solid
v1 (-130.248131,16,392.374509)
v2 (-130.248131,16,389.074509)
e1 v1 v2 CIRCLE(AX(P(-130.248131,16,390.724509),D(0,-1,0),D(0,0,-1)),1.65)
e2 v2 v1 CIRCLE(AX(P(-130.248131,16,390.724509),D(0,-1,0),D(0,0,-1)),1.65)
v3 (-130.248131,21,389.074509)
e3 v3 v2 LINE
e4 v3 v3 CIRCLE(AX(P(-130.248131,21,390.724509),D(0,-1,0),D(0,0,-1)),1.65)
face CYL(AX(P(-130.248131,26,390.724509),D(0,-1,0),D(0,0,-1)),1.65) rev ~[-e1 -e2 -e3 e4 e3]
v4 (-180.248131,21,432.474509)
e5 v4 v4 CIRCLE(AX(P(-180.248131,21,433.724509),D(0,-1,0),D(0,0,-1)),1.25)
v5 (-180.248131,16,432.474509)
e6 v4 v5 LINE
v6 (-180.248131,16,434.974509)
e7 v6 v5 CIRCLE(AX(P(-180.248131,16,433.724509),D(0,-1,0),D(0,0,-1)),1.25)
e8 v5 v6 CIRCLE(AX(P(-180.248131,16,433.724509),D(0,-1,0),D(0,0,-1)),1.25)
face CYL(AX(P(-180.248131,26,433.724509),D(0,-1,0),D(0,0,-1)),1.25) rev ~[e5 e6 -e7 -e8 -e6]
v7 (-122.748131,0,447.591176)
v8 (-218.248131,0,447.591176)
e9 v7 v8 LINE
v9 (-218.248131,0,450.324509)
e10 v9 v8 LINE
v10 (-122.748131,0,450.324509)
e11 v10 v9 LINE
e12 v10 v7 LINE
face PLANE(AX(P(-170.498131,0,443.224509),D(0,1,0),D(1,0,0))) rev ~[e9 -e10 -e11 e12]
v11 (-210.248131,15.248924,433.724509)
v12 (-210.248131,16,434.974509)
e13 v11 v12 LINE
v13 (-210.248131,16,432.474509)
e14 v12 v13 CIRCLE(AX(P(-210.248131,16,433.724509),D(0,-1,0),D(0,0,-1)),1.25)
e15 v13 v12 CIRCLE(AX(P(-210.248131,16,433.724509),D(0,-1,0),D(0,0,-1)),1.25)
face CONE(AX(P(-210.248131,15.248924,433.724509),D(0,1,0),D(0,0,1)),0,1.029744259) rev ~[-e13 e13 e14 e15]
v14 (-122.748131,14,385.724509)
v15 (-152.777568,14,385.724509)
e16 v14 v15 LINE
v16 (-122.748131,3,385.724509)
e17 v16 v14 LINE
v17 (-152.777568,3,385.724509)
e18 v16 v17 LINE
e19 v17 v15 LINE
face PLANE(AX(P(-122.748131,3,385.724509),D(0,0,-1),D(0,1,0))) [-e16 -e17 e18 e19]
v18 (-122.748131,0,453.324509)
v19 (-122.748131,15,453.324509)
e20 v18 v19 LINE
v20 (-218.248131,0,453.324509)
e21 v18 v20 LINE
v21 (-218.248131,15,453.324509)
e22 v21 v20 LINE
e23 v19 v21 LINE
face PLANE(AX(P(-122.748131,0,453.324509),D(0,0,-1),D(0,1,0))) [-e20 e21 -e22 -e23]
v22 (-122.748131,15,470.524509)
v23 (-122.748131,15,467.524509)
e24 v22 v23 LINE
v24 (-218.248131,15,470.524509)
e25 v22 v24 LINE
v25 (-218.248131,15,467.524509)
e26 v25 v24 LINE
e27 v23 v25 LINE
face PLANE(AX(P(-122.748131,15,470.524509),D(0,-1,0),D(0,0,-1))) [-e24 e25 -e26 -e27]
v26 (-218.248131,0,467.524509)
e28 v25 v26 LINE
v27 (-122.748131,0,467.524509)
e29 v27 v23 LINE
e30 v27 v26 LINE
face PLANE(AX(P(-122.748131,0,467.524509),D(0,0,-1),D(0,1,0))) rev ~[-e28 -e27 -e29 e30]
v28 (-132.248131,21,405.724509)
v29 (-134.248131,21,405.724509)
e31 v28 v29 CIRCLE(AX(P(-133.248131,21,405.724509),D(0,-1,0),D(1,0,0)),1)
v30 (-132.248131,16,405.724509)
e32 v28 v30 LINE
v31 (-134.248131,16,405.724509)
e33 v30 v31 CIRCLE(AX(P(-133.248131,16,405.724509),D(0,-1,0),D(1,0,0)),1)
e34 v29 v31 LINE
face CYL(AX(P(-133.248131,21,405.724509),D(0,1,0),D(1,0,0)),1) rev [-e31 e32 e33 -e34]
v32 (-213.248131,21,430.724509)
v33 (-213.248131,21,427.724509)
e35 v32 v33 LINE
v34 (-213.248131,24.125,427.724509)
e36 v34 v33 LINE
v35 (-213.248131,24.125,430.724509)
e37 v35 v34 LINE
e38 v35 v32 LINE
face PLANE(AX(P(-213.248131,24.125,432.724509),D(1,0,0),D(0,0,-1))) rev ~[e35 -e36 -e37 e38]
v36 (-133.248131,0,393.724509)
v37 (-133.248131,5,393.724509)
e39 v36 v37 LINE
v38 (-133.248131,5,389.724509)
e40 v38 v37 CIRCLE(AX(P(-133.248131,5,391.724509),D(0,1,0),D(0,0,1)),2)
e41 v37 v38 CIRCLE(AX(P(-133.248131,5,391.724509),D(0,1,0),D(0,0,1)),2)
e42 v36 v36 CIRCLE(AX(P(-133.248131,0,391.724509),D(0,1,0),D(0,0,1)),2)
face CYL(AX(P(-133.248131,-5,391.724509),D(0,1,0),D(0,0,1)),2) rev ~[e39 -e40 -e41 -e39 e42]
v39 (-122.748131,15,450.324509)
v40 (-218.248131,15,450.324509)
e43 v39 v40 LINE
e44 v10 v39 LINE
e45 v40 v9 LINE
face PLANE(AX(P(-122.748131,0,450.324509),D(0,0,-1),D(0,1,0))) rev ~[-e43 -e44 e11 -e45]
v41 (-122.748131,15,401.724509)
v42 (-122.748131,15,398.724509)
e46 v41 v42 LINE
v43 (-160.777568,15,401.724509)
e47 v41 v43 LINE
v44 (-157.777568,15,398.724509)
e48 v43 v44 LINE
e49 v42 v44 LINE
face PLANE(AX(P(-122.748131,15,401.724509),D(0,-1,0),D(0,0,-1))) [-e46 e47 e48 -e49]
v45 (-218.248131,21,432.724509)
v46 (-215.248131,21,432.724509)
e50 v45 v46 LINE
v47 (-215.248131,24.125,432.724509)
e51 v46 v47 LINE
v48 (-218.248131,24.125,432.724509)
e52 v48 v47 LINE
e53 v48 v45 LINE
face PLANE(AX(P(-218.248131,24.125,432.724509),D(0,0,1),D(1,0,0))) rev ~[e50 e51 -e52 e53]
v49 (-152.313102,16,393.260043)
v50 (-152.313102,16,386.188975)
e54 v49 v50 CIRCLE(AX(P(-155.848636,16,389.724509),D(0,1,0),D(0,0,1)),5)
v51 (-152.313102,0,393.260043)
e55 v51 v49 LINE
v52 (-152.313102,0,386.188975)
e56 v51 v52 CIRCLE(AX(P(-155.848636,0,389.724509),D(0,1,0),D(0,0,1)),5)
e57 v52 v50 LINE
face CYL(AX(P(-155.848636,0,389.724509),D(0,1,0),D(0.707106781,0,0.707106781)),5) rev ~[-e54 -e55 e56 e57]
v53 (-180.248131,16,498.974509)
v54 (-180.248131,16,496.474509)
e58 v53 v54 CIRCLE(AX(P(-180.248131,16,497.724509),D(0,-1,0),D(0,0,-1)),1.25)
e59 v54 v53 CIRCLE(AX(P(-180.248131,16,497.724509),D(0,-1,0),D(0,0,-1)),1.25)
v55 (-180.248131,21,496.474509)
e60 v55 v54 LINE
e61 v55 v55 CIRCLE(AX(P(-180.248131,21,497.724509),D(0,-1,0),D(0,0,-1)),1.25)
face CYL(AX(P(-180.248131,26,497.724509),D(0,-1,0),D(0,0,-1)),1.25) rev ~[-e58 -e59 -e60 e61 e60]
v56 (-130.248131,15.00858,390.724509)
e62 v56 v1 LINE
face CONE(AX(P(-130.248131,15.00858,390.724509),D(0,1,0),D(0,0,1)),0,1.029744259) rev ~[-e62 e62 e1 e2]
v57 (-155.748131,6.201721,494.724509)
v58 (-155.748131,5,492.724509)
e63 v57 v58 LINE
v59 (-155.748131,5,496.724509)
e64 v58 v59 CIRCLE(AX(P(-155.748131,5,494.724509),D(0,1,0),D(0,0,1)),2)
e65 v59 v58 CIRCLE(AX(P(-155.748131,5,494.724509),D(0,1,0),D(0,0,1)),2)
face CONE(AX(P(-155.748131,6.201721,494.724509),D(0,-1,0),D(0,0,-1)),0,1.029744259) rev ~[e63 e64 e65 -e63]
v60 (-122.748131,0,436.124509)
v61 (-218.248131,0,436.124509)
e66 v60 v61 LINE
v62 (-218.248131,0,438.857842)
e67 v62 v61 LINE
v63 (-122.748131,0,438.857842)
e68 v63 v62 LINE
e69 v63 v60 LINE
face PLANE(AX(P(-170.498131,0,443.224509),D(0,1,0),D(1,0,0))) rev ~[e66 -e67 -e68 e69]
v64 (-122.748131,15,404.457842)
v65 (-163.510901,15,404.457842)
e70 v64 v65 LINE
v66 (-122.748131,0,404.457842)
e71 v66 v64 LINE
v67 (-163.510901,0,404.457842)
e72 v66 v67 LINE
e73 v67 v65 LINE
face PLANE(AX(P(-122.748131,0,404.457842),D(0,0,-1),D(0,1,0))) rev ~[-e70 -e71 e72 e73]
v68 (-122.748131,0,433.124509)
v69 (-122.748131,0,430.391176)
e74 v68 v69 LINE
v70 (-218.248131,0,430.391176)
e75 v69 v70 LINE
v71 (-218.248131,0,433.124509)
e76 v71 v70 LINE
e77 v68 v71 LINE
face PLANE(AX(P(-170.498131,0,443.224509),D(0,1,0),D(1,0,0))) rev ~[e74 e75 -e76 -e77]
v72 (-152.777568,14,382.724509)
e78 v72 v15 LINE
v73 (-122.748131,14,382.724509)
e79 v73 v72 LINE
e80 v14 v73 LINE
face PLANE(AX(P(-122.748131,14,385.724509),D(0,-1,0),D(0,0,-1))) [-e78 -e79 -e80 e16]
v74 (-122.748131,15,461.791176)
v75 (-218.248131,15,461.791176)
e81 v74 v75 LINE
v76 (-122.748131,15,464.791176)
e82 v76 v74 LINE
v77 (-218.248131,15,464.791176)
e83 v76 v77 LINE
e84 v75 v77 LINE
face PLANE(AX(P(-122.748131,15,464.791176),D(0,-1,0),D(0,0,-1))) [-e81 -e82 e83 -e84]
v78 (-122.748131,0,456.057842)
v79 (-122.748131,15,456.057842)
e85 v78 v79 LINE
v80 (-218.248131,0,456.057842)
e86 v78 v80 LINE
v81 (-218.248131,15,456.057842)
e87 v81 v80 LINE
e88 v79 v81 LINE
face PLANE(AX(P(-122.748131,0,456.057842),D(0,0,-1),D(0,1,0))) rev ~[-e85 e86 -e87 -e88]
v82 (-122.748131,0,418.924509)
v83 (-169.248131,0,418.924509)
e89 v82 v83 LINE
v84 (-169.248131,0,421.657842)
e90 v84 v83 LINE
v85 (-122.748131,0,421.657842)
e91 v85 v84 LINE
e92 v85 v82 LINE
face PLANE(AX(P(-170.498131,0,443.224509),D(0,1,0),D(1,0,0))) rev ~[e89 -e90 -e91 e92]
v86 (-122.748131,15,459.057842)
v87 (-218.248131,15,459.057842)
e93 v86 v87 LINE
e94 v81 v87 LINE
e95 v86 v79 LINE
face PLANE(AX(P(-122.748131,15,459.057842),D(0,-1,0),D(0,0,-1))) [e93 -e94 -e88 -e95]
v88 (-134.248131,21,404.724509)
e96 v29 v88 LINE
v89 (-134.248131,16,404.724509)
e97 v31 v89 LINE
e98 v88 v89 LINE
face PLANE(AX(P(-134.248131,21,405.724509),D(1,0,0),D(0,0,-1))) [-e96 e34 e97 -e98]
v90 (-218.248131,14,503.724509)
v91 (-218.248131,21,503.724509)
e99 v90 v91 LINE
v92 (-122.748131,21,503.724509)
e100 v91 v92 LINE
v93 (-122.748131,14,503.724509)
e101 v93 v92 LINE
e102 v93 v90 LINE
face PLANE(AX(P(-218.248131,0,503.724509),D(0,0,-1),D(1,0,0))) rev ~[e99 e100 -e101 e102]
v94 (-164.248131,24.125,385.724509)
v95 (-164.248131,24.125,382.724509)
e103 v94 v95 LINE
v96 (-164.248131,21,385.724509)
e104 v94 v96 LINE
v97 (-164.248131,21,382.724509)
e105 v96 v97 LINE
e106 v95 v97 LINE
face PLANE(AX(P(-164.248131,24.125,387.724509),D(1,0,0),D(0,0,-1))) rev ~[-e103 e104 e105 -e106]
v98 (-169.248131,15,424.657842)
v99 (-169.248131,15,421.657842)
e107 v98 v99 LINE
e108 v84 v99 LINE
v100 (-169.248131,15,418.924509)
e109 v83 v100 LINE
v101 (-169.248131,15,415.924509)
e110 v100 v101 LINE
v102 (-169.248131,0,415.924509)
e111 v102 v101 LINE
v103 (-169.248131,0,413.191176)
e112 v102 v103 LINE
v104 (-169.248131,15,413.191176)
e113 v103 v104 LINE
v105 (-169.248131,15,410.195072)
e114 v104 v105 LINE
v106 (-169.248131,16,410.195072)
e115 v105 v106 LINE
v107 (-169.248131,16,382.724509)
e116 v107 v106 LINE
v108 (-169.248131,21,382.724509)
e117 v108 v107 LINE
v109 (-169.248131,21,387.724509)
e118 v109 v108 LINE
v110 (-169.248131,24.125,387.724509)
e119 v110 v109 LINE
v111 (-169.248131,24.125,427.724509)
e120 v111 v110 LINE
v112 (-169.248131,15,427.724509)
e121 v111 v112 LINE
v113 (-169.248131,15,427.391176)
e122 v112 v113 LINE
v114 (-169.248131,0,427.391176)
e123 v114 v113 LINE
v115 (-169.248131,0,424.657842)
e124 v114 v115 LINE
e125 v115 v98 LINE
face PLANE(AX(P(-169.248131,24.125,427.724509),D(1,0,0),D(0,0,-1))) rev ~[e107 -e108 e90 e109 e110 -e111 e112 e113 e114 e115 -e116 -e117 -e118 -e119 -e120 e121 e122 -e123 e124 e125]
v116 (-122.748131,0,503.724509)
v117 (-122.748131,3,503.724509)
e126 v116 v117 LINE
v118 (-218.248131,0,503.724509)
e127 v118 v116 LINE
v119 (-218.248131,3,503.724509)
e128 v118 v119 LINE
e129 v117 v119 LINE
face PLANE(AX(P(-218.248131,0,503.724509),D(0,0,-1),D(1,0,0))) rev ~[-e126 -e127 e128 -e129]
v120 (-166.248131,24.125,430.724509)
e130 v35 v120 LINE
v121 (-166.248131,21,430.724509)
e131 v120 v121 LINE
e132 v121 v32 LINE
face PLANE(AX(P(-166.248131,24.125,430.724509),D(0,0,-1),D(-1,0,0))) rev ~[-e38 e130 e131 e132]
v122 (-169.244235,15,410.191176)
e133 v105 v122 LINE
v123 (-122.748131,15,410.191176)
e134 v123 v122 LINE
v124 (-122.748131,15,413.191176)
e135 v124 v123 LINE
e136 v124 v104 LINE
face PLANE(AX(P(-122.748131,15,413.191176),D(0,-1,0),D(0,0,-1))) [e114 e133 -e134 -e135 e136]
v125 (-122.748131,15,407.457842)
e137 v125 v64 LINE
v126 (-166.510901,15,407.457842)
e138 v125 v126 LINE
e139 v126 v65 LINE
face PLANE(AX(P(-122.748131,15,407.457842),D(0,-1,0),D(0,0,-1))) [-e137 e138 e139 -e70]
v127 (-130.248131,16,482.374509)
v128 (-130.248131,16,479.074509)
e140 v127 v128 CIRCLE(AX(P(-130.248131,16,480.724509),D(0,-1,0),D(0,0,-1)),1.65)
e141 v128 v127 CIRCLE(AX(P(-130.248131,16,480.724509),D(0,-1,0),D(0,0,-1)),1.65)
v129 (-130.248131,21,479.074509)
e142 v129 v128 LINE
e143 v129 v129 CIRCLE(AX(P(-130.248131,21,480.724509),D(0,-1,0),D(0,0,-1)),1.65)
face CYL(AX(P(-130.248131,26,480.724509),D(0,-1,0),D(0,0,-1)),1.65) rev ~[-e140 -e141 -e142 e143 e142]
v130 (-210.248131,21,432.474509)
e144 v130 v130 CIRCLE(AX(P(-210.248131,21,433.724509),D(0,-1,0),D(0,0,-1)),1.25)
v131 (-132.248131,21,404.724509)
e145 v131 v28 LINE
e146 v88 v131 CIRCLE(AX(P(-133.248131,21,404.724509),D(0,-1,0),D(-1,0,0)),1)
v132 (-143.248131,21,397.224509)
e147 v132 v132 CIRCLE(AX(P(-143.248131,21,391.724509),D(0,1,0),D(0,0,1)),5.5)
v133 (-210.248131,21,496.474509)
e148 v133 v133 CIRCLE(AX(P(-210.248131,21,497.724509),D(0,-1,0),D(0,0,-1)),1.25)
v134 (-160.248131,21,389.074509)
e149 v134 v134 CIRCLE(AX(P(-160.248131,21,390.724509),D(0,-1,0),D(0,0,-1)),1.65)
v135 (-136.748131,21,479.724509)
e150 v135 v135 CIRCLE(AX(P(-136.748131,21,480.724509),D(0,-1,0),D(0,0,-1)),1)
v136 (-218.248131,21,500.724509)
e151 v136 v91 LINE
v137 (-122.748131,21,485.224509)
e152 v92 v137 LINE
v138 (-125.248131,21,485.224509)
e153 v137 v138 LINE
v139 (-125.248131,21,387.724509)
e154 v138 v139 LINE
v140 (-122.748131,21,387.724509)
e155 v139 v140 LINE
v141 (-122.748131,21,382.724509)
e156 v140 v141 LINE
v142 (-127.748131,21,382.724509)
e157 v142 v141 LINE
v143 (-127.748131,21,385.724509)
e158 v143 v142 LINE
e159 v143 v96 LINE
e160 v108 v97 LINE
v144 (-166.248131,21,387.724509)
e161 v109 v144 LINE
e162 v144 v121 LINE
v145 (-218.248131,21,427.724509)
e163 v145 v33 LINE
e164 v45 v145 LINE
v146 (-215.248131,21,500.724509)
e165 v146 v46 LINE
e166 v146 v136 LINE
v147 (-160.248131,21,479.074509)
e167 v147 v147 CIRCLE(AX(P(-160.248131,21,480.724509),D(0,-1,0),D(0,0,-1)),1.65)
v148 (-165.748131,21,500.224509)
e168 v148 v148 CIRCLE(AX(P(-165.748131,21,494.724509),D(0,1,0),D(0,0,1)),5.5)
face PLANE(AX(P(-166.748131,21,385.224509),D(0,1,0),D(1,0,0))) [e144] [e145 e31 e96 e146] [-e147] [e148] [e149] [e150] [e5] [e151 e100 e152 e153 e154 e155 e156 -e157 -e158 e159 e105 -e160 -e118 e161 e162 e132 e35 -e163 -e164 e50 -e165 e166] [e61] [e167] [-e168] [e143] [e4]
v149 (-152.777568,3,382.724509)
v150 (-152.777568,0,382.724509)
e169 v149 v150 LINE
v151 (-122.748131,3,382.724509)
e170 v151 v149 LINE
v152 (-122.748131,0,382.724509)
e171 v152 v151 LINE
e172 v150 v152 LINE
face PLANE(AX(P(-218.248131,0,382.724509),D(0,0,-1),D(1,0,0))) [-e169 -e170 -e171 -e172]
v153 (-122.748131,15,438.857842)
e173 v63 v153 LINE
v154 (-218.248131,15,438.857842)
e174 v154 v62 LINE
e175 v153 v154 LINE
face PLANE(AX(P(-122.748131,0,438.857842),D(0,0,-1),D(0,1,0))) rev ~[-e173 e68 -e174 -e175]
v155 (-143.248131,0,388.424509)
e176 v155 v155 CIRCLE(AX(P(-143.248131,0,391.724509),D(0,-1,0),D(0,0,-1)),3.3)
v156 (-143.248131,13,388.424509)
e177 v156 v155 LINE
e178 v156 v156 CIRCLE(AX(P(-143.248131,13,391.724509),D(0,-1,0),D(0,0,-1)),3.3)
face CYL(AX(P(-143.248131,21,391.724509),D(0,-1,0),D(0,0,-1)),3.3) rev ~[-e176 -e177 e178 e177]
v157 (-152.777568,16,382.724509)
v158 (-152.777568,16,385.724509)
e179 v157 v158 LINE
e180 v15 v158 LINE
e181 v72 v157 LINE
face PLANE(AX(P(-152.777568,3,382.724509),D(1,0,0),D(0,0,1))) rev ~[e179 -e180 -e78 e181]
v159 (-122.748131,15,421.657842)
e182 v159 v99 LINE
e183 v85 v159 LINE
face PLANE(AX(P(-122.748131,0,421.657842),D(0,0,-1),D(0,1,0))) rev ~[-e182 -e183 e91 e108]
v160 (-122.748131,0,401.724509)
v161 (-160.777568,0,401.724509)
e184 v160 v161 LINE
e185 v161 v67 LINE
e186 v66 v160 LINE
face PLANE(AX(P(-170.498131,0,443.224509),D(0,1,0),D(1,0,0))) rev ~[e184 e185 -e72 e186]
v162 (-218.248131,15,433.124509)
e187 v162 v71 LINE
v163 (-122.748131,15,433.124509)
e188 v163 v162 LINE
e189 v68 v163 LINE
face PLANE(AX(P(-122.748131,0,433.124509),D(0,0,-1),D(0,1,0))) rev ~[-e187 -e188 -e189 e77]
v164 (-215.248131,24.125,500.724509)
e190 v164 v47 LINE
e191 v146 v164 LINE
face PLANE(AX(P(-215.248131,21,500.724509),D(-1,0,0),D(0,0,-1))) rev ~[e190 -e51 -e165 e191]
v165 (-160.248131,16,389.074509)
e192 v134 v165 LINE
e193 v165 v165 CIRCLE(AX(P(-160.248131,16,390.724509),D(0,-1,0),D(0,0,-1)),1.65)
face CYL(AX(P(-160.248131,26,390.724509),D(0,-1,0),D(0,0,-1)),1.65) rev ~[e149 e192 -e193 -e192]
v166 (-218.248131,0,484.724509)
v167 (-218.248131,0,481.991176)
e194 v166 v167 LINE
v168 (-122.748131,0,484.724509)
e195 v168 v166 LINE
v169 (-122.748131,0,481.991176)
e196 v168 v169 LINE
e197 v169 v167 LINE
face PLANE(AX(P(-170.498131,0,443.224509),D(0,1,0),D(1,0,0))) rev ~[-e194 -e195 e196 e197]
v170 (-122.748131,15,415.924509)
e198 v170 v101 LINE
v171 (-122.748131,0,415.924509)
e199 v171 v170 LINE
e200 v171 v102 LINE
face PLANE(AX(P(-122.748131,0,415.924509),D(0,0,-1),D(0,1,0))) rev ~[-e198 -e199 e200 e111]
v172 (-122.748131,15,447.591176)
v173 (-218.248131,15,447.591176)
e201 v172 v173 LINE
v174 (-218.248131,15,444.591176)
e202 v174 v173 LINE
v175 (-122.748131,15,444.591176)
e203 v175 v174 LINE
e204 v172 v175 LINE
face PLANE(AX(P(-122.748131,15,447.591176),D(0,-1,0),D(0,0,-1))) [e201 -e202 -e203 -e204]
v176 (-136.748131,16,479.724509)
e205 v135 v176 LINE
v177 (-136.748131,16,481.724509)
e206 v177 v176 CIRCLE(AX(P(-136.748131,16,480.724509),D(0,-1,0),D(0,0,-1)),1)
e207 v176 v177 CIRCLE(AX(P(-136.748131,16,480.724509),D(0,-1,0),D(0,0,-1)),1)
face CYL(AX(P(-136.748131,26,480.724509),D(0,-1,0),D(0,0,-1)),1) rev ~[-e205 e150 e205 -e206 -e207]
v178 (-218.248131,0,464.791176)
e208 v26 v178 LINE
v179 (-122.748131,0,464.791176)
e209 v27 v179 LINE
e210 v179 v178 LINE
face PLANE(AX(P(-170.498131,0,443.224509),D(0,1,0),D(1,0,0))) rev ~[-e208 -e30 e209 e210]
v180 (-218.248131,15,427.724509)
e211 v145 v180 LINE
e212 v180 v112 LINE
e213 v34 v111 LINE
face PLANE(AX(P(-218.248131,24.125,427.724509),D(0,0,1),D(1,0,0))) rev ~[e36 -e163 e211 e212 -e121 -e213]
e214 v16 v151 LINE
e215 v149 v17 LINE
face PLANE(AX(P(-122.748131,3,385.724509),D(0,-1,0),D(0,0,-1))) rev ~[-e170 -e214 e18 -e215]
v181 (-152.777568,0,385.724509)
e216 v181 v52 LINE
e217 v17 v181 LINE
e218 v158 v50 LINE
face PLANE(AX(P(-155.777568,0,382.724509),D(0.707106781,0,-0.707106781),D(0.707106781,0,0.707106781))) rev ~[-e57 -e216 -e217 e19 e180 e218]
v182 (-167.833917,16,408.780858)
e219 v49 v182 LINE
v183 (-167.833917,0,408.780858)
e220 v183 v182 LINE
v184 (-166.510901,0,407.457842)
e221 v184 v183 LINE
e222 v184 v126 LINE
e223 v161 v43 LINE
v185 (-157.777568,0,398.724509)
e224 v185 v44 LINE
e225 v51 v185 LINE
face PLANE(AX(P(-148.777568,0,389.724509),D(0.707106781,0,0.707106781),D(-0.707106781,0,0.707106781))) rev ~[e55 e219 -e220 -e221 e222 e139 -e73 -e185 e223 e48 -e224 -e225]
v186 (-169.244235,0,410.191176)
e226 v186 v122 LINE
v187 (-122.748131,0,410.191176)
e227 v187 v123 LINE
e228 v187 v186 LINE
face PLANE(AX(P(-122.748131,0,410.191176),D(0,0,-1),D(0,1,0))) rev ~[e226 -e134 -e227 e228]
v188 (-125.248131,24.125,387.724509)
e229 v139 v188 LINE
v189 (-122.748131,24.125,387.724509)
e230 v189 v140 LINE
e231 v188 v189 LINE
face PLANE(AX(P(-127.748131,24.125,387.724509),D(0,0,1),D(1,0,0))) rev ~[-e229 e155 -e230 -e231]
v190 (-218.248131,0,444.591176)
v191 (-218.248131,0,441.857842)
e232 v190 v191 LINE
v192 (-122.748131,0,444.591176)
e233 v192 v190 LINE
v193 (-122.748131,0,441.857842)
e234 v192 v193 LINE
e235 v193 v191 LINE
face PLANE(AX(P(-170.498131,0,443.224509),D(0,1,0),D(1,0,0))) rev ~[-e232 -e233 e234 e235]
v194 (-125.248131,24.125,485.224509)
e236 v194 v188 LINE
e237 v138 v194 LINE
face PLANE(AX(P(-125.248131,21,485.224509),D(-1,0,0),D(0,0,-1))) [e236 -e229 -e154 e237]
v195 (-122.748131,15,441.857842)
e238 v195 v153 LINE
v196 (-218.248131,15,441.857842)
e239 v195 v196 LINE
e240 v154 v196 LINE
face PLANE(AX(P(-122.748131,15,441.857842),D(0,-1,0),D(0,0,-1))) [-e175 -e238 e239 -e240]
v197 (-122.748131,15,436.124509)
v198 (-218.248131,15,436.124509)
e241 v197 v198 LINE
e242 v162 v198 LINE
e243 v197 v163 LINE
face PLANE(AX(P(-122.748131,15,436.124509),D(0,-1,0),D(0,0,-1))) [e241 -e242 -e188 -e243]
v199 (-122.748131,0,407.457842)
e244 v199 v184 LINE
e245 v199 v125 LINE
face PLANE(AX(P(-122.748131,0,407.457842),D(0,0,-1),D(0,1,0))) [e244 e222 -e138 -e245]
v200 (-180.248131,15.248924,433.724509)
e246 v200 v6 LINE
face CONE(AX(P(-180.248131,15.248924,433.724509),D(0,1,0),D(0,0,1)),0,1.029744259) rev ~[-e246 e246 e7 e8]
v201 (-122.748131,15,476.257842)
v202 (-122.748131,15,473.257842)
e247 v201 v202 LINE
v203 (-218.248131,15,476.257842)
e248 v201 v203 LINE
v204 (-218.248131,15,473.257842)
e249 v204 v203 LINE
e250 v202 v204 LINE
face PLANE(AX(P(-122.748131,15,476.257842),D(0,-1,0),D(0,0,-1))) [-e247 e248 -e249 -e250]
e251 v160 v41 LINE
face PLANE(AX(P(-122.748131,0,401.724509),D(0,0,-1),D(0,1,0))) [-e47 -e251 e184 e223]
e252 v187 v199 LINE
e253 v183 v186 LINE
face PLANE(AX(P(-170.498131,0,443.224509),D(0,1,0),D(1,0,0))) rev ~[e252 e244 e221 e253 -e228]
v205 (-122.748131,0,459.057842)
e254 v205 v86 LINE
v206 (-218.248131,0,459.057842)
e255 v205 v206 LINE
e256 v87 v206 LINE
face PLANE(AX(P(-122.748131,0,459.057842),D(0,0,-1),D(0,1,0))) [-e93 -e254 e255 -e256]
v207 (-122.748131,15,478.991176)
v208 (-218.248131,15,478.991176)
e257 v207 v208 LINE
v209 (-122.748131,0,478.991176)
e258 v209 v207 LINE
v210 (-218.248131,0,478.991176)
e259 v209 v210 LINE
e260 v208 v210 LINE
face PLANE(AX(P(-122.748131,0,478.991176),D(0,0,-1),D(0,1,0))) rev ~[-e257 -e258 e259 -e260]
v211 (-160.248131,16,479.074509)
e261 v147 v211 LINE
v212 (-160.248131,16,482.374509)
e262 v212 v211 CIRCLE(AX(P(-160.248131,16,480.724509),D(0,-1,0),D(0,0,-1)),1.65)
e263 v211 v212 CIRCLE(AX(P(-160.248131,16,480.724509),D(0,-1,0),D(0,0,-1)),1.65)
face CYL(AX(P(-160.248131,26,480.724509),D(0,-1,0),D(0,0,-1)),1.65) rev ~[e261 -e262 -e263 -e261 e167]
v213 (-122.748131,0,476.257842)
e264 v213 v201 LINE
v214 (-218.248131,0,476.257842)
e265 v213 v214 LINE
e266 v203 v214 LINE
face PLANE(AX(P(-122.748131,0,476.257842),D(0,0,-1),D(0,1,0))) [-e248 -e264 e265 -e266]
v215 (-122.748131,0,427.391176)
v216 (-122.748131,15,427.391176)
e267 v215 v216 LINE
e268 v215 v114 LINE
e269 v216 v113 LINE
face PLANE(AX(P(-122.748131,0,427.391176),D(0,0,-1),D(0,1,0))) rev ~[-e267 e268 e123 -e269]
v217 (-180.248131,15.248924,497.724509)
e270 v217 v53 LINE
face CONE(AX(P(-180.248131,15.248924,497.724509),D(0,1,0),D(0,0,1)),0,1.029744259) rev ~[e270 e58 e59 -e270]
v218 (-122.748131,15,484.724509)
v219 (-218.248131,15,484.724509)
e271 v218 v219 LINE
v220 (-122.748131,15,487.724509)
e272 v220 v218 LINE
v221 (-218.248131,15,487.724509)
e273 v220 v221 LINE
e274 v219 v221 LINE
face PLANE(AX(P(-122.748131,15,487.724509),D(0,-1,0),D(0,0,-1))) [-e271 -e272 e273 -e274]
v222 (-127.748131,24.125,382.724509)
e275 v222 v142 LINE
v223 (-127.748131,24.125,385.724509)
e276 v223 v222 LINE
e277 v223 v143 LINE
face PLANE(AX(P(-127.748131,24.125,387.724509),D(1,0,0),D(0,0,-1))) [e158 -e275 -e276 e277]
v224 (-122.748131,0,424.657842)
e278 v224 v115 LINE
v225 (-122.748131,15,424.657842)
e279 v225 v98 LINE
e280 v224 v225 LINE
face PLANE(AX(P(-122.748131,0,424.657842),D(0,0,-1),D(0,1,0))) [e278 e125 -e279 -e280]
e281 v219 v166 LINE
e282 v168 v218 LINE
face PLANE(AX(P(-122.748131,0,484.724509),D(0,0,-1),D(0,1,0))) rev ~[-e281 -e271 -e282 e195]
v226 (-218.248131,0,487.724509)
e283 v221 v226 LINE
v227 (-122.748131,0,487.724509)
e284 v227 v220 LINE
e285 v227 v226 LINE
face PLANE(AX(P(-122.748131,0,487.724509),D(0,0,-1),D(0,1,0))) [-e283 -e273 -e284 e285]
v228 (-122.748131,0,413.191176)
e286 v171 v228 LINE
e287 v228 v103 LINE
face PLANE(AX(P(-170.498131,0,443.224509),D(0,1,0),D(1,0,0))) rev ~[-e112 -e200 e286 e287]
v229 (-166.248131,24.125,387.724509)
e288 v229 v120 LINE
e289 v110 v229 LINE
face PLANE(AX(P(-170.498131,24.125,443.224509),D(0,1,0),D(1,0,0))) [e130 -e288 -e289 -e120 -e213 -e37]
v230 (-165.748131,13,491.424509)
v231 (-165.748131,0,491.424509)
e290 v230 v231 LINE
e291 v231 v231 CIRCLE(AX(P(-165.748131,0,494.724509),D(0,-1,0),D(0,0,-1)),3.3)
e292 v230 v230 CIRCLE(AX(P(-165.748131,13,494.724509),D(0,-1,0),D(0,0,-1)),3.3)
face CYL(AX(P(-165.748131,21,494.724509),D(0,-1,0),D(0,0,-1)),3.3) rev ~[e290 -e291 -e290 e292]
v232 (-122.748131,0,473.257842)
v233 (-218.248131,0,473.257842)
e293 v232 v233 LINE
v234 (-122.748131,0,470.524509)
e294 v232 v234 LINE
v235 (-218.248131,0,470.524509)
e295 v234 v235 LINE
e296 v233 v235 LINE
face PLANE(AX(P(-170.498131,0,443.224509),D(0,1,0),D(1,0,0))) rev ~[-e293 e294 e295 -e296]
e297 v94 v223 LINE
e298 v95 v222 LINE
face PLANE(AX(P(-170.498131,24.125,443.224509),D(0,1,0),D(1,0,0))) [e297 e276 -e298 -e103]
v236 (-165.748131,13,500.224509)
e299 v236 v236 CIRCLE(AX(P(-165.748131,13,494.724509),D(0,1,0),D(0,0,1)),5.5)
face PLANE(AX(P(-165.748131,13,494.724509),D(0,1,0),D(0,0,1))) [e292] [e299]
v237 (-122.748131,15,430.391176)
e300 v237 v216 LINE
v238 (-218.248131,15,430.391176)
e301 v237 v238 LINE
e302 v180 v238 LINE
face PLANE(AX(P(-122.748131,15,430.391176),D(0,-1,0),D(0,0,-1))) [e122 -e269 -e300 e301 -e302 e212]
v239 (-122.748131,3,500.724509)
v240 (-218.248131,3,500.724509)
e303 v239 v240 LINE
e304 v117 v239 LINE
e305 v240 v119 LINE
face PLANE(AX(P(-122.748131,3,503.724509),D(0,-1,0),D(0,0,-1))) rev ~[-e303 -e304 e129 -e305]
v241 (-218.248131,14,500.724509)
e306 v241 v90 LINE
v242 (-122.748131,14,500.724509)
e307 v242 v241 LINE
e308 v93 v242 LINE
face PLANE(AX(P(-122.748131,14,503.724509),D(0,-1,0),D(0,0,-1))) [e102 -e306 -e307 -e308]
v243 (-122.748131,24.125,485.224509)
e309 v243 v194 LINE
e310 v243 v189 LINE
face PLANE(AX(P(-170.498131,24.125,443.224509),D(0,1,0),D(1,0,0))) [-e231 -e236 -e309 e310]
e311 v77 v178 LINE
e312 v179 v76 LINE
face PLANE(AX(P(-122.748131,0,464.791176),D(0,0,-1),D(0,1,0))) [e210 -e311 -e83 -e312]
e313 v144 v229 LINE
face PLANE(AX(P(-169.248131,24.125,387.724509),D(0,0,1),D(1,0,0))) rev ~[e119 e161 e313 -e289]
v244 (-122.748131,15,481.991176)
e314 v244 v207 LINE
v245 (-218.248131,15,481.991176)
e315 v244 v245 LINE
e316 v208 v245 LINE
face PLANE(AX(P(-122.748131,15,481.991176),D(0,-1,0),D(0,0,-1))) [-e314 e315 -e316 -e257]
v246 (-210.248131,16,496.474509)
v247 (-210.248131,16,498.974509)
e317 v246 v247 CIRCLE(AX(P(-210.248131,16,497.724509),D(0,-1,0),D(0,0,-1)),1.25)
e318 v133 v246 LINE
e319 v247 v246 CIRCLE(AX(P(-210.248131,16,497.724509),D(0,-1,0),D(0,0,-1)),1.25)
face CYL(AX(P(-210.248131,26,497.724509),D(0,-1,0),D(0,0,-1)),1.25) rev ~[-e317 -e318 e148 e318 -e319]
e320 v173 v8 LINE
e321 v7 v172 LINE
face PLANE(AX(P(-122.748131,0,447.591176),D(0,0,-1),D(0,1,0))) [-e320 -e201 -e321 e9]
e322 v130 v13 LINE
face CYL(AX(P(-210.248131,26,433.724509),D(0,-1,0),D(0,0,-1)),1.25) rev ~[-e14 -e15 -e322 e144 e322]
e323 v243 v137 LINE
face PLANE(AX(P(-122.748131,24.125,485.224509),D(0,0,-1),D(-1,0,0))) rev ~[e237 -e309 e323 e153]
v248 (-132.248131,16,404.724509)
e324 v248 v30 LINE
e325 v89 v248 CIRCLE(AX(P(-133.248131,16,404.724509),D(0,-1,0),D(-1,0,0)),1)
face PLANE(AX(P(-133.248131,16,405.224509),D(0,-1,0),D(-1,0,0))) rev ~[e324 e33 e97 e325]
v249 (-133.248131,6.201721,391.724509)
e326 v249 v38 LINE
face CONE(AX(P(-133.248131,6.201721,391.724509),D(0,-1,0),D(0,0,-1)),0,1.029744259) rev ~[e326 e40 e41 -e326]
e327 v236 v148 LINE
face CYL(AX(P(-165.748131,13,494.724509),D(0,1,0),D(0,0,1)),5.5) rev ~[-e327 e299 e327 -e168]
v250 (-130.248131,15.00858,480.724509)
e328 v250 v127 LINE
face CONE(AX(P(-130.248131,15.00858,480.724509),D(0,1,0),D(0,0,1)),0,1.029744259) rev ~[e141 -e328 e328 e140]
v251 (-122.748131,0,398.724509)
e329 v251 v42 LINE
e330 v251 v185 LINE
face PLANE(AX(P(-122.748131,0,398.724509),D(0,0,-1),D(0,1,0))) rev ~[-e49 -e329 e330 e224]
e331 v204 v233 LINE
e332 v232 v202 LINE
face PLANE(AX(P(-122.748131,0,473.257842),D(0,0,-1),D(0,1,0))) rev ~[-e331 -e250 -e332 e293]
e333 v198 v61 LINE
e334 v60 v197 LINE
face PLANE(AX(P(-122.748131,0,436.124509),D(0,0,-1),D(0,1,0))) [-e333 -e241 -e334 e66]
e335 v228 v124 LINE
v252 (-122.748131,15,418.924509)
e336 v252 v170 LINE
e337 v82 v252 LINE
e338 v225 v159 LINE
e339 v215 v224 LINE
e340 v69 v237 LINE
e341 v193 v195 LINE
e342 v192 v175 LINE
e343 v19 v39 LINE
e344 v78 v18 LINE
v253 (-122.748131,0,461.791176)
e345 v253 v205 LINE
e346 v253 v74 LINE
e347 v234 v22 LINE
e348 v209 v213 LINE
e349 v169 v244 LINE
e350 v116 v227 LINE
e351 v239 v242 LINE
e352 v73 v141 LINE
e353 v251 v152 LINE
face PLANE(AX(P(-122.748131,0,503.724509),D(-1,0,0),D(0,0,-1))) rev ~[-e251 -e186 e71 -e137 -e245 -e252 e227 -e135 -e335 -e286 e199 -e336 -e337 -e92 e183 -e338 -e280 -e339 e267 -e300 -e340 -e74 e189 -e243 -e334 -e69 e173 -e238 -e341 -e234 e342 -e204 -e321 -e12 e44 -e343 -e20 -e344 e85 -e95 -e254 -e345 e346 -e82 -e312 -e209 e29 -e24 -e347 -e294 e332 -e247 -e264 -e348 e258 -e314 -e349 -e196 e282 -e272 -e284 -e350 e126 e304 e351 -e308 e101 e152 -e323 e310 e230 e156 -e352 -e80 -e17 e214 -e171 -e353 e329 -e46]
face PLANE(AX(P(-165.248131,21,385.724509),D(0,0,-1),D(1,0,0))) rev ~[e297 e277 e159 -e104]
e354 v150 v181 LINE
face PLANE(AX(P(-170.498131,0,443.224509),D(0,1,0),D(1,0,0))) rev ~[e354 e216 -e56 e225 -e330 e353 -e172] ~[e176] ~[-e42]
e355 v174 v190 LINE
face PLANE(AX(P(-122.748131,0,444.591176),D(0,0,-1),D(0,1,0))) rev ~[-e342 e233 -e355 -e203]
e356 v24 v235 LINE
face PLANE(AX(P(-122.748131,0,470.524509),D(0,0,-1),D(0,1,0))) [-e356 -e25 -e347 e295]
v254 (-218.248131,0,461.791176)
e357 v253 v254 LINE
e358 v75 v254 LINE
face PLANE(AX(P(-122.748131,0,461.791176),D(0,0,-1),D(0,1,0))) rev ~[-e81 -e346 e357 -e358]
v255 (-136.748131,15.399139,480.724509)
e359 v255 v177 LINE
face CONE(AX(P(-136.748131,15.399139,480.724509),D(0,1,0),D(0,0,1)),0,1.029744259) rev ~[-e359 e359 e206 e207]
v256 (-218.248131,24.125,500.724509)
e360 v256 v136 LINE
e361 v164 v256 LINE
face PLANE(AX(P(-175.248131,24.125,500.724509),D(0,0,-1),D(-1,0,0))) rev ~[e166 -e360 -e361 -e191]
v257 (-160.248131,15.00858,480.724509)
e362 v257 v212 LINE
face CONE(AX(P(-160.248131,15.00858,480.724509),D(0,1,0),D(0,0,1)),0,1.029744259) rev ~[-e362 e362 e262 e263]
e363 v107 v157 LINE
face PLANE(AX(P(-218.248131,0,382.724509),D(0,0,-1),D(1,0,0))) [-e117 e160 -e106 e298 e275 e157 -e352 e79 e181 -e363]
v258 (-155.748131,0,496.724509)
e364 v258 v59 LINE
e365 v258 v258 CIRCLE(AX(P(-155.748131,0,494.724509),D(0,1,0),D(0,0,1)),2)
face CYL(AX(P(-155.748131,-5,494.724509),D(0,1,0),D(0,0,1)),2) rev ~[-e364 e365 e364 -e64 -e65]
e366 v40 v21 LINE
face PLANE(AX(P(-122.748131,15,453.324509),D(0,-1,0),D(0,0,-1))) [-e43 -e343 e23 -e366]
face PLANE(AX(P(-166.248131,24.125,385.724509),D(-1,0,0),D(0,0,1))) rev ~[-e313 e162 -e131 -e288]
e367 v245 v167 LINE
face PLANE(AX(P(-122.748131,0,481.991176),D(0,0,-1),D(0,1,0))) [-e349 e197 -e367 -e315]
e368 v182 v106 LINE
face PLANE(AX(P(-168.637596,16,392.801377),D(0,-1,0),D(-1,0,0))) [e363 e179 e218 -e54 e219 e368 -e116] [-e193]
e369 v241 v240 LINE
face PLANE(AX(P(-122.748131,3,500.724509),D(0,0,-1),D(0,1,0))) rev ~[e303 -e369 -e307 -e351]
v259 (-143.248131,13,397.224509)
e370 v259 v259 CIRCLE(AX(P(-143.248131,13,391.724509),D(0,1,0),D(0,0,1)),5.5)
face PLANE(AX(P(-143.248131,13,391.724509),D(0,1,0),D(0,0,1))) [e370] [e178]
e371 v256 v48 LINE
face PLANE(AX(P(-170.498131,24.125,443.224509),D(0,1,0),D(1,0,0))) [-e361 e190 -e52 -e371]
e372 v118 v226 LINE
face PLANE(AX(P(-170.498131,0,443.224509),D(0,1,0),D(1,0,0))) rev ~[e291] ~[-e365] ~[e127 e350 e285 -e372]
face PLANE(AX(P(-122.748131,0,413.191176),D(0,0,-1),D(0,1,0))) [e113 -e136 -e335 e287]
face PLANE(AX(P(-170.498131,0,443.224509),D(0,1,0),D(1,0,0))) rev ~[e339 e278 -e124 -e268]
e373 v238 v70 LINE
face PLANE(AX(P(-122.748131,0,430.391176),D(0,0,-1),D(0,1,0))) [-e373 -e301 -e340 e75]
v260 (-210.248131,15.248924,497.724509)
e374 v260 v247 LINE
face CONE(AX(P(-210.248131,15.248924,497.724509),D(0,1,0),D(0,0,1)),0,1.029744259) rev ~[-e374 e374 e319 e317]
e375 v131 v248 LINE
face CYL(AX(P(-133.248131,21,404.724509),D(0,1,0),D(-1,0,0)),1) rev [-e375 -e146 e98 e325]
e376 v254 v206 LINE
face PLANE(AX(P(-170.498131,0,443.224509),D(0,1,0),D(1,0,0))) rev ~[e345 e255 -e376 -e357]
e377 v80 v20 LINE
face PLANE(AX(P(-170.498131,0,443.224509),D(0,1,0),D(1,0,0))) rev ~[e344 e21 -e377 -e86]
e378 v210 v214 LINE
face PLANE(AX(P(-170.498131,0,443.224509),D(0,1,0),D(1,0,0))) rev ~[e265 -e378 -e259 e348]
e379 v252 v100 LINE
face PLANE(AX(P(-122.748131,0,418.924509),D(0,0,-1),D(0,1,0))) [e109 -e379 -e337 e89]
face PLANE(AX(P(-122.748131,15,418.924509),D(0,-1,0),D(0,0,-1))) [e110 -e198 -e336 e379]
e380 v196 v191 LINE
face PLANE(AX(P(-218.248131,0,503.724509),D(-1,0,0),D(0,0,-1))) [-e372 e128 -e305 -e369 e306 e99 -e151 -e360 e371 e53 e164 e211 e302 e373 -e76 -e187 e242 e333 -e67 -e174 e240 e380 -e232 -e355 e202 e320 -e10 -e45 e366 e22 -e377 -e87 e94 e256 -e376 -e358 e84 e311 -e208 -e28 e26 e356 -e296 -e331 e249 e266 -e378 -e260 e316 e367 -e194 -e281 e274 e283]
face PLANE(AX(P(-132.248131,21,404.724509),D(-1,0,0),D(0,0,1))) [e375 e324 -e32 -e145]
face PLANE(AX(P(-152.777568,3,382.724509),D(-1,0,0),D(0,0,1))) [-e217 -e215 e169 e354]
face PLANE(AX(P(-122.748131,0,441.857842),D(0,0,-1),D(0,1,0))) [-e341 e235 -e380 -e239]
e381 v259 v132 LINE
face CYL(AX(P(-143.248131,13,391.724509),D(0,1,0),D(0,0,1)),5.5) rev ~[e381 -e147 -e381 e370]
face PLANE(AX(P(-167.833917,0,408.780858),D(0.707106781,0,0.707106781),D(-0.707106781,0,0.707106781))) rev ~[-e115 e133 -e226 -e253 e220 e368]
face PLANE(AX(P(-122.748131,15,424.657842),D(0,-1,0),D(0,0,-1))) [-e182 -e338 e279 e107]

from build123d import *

# Parameters (mm, degrees)
SKETCH_1_W                = 95.5
SKETCH_1_H                = 121
EXTRUDE_1_DEPTH           = 24.125
CUT_EXTRUDE_START         = -3.125
SKETCH_2_W                = 40
SKETCH_2_H                = 70
SKETCH_2_H_2              = 99.5
CUT_EXTRUDE_1_DEPTH       = 3.125
CUT_EXTRUDE_2_DEPTH       = 3.125
HOLE_WIZARD_M3_1_D        = 2.5
HOLE_WIZARD_M3_1_DEPTH    = 5
HOLE_WIZARD_M3_1_TIP      = 0.751075774
HOLE_WIZARD_M4_1_D        = 3.3
HOLE_WIZARD_M4_1_DEPTH    = 5
HOLE_WIZARD_M4_1_TIP      = 0.991420021
MM_2_D                    = 2
MM_2_DEPTH                = 5
MM_2_TIP                  = 0.600860619
CUT_EXTRUDE_12_DEPTH      = 5
SKETCH_27_W               = 49
SKETCH_27_H               = 45
CUT_EXTRUDE_15_DEPTH      = 25.125
CUT_EXTRUDE_16_DEPTH      = 16
CUT_EXTRUDE_17_DEPTH      = 16
FILLET_2_R                = 5
SKETCH_42_W               = 5
SKETCH_42_H               = 5
CUT_EXTRUDE_24_DEPTH      = 3.125
HOLE_WIZARD_2_D           = 6.6
HOLE_WIZARD_2_CBORE_D     = 11
HOLE_WIZARD_2_CBORE_DEPTH = 8
SKETCH_49_W               = 3
SKETCH_49_H               = 11
CUT_EXTRUDE_28_DEPTH      = 96.5
SKETCH_50_W               = 3
SKETCH_50_H               = 3
CUT_EXTRUDE_29_DEPTH      = 4
CUT_EXTRUDE_29_DEPTH_BACK = 13
SKETCH_52_W               = 3
SKETCH_52_H               = 15
CUT_EXTRUDE_30_DEPTH      = 96.5
PATTERN_LINEAR_4_COUNT    = 16
PATTERN_LINEAR_4_PITCH    = 5.733333333
MM_3_D                    = 4
MM_3_DEPTH                = 5
MM_3_TIP                  = 1.201721238


with BuildPart() as part:
    # 草图1 → 凸台-拉伸1 (new body)
    with BuildSketch(Plane(origin=(0, 0, 0), x_dir=(1, 0, 0), z_dir=(0, 1, 0))):
        with Locations((-170.498130707, -443.224508868)):
            Rectangle(SKETCH_1_W, SKETCH_1_H)
    extrude(amount=EXTRUDE_1_DEPTH)

    # 草图2 → 切除-拉伸1 (cut)
    with BuildSketch(Plane(origin=(0, 24.125, 0), x_dir=(1, 0, 0), z_dir=(0, 1, 0)).offset(CUT_EXTRUDE_START)):
        with Locations((-195.248130707, -465.724508868)):
            Rectangle(SKETCH_2_W, SKETCH_2_H)
        with Locations((-145.248130707, -435.474508868)):
            Rectangle(SKETCH_2_W, SKETCH_2_H_2)
    extrude(amount=CUT_EXTRUDE_1_DEPTH, mode=Mode.SUBTRACT)

    # 草图4 → 切除-拉伸2 (cut)
    with BuildSketch(Plane(origin=(0, 24.125, 0), x_dir=(1, 0, 0), z_dir=(0, 1, 0))):
        Polygon((-165.248130707, -385.724508868), (-166.248130707, -385.724508868), (-166.248130707, -430.724508868), (-175.248130707, -430.724508868), (-175.248130707, -500.724508868), (-215.248130707, -500.724508868), (-218.248130707, -500.724508868), (-218.248130707, -503.724508868), (-122.748130707, -503.724508868), (-122.748130707, -485.224508868), (-125.248130707, -485.224508868), (-165.248130707, -485.224508868), align=None)
    extrude(amount=-CUT_EXTRUDE_2_DEPTH, mode=Mode.SUBTRACT)

    # M3 螺纹孔1
    with Locations(Plane(origin=(-210.248130707, 21, 433.724508868), x_dir=(0, 0, 1), z_dir=(0, 1, 0))):
        with Locations((0, 0), (0, 30), (64, 30), (64, 0)):
            Hole(HOLE_WIZARD_M3_1_D / 2, depth=HOLE_WIZARD_M3_1_DEPTH)
            with Locations((0, 0, -(HOLE_WIZARD_M3_1_DEPTH + HOLE_WIZARD_M3_1_TIP / 2))):  # 118° drill point
                Cone(0, HOLE_WIZARD_M3_1_D / 2, HOLE_WIZARD_M3_1_TIP, mode=Mode.SUBTRACT)

    # M4 螺纹孔1
    with Locations(Plane(origin=(-160.248130707, 21, 390.724508868), x_dir=(0, 0, 1), z_dir=(0, 1, 0))):
        with Locations((0, 0), (0, 30), (90, 0), (90, 30)):
            Hole(HOLE_WIZARD_M4_1_D / 2, depth=HOLE_WIZARD_M4_1_DEPTH)
            with Locations((0, 0, -(HOLE_WIZARD_M4_1_DEPTH + HOLE_WIZARD_M4_1_TIP / 2))):  # 118° drill point
                Cone(0, HOLE_WIZARD_M4_1_D / 2, HOLE_WIZARD_M4_1_TIP, mode=Mode.SUBTRACT)

    # 大小mm 暗销孔2
    with Locations(Plane(origin=(-136.748130707, 21, 480.724508868), x_dir=(0, 0, 1), z_dir=(0, 1, 0))):
        with Locations((0, 0)):
            Hole(MM_2_D / 2, depth=MM_2_DEPTH)
            with Locations((0, 0, -(MM_2_DEPTH + MM_2_TIP / 2))):  # 118° drill point
                Cone(0, MM_2_D / 2, MM_2_TIP, mode=Mode.SUBTRACT)

    # 草图24 → 切除-拉伸12 (cut)
    with BuildSketch(Plane(origin=(0, 21, 0), x_dir=(1, 0, 0), z_dir=(0, 1, 0))):
        with BuildLine():
            Line((-134.248130707, -405.724508868), (-134.248130707, -404.724508868))
            ThreePointArc((-134.248130707, -404.724508868), (-133.248130707, -403.724508868), (-132.248130707, -404.724508868))
            Line((-132.248130707, -404.724508868), (-132.248130707, -405.724508868))
            ThreePointArc((-132.248130707, -405.724508868), (-133.248130707, -406.724508868), (-134.248130707, -405.724508868))
        make_face()
    extrude(amount=-CUT_EXTRUDE_12_DEPTH, mode=Mode.SUBTRACT)

    # 草图27 → 切除-拉伸15 (cut, through all)
    with BuildSketch(Plane(origin=(0, 24.125, 0), x_dir=(1, 0, 0), z_dir=(0, 1, 0))):
        with Locations((-193.748130707, -405.224508868)):
            Rectangle(SKETCH_27_W, SKETCH_27_H)
    extrude(amount=-CUT_EXTRUDE_15_DEPTH, mode=Mode.SUBTRACT)

    # 草图28 → 切除-拉伸16 (cut)
    with BuildSketch(Plane(origin=(0, 0, 0), x_dir=(1, 0, 0), z_dir=(0, 1, 0))):
        Polygon((-151.605995083, -389.724508869), (-171.714464048, -409.832977834), (-185.669197391, -395.878244492), (-165.560728425, -375.769775526), align=None)
    extrude(amount=CUT_EXTRUDE_16_DEPTH, mode=Mode.SUBTRACT)

    # 草图29 → 切除-拉伸17 (cut)
    with BuildSketch(Plane.XZ):
        Polygon((-151.605995083, 389.724508869), (-158.605995083, 382.724508868), (-155.777567958, 382.724508868), (-148.777567958, 389.724508869), (-167.833917144, 408.780858055), (-169.248130707, 410.195071617), (-169.248130707, 407.366644492), align=None)
    extrude(amount=-CUT_EXTRUDE_17_DEPTH, mode=Mode.SUBTRACT)

    # 圆角2
    fillet_2_edges = [part.edges().sort_by_distance(p)[0] for p in [
        (-148.777567958, 8, 389.724508869),
    ]]
    fillet(fillet_2_edges, radius=FILLET_2_R)

    # 草图42 → 切除-拉伸24 (cut)
    with BuildSketch(Plane(origin=(0, 24.125, 0), x_dir=(1, 0, 0), z_dir=(0, 1, 0))):
        with Locations((-166.748130707, -385.224508868)):
            Rectangle(SKETCH_42_W, SKETCH_42_H)
        with Locations((-125.248130707, -385.224508868)):
            Rectangle(SKETCH_42_W, SKETCH_42_H)
        with Locations((-215.748130707, -430.224508868)):
            Rectangle(SKETCH_42_W, SKETCH_42_H)
    extrude(amount=-CUT_EXTRUDE_24_DEPTH, mode=Mode.SUBTRACT)

    # 打孔尺寸(%根据)内六角圆柱头螺钉的类型2 (through all)
    with Locations(Plane(origin=(-165.748130707, 21, 494.724508868), x_dir=(0, 0, 1), z_dir=(0, 1, 0))):
        with Locations((0, 0), (-103, 22.5)):
            CounterBoreHole(HOLE_WIZARD_2_D / 2, HOLE_WIZARD_2_CBORE_D / 2, HOLE_WIZARD_2_CBORE_DEPTH)

    # 草图49 → 切除-拉伸28 (cut, through all)
    with BuildSketch(Plane(origin=(-122.748130707, 0, 0), x_dir=(0, 0, -1), z_dir=(1, 0, 0))):
        with Locations((-502.224508868, 8.5)):
            Rectangle(SKETCH_49_W, SKETCH_49_H)
        with Locations((-384.224508868, 8.5)):
            Rectangle(SKETCH_49_W, SKETCH_49_H)
    extrude(amount=-CUT_EXTRUDE_28_DEPTH, mode=Mode.SUBTRACT)

    # 草图50 → 切除-拉伸29 (cut, two sides)
    with BuildSketch(Plane.XZ.offset(-3)) as cut_extrude_29_sk:
        with Locations((-154.277567958, 384.224508868)):
            Rectangle(SKETCH_50_W, SKETCH_50_H)
    extrude(amount=CUT_EXTRUDE_29_DEPTH, mode=Mode.SUBTRACT)
    extrude(cut_extrude_29_sk.sketch, amount=-CUT_EXTRUDE_29_DEPTH_BACK, mode=Mode.SUBTRACT)

    # 草图52 → 切除-拉伸30 (cut, through all)
    with BuildSketch(Plane(origin=(-122.748130707, 0, 0), x_dir=(0, 0, -1), z_dir=(1, 0, 0))):
        with Locations((-400.224508868, 7.5)):
            Rectangle(SKETCH_52_W, SKETCH_52_H)
    cut_extrude_30 = extrude(amount=-CUT_EXTRUDE_30_DEPTH, mode=Mode.SUBTRACT)

    # 阵列(线性)4: 切除-拉伸30 ×16
    with Locations(*[(0, 0, i * PATTERN_LINEAR_4_PITCH) for i in range(1, PATTERN_LINEAR_4_COUNT)]):
        add(cut_extrude_30, mode=Mode.SUBTRACT)

    # 大小mm 暗销孔3
    with Locations(Plane(origin=(-155.748130707, 0, 494.724508868), x_dir=(0, 0, -1), z_dir=(0, -1, 0))):
        with Locations((0, 0), (103, 22.5)):
            Hole(MM_3_D / 2, depth=MM_3_DEPTH)
            with Locations((0, 0, -(MM_3_DEPTH + MM_3_TIP / 2))):  # 118° drill point
                Cone(0, MM_3_D / 2, MM_3_TIP, mode=Mode.SUBTRACT)


solid = part.part
